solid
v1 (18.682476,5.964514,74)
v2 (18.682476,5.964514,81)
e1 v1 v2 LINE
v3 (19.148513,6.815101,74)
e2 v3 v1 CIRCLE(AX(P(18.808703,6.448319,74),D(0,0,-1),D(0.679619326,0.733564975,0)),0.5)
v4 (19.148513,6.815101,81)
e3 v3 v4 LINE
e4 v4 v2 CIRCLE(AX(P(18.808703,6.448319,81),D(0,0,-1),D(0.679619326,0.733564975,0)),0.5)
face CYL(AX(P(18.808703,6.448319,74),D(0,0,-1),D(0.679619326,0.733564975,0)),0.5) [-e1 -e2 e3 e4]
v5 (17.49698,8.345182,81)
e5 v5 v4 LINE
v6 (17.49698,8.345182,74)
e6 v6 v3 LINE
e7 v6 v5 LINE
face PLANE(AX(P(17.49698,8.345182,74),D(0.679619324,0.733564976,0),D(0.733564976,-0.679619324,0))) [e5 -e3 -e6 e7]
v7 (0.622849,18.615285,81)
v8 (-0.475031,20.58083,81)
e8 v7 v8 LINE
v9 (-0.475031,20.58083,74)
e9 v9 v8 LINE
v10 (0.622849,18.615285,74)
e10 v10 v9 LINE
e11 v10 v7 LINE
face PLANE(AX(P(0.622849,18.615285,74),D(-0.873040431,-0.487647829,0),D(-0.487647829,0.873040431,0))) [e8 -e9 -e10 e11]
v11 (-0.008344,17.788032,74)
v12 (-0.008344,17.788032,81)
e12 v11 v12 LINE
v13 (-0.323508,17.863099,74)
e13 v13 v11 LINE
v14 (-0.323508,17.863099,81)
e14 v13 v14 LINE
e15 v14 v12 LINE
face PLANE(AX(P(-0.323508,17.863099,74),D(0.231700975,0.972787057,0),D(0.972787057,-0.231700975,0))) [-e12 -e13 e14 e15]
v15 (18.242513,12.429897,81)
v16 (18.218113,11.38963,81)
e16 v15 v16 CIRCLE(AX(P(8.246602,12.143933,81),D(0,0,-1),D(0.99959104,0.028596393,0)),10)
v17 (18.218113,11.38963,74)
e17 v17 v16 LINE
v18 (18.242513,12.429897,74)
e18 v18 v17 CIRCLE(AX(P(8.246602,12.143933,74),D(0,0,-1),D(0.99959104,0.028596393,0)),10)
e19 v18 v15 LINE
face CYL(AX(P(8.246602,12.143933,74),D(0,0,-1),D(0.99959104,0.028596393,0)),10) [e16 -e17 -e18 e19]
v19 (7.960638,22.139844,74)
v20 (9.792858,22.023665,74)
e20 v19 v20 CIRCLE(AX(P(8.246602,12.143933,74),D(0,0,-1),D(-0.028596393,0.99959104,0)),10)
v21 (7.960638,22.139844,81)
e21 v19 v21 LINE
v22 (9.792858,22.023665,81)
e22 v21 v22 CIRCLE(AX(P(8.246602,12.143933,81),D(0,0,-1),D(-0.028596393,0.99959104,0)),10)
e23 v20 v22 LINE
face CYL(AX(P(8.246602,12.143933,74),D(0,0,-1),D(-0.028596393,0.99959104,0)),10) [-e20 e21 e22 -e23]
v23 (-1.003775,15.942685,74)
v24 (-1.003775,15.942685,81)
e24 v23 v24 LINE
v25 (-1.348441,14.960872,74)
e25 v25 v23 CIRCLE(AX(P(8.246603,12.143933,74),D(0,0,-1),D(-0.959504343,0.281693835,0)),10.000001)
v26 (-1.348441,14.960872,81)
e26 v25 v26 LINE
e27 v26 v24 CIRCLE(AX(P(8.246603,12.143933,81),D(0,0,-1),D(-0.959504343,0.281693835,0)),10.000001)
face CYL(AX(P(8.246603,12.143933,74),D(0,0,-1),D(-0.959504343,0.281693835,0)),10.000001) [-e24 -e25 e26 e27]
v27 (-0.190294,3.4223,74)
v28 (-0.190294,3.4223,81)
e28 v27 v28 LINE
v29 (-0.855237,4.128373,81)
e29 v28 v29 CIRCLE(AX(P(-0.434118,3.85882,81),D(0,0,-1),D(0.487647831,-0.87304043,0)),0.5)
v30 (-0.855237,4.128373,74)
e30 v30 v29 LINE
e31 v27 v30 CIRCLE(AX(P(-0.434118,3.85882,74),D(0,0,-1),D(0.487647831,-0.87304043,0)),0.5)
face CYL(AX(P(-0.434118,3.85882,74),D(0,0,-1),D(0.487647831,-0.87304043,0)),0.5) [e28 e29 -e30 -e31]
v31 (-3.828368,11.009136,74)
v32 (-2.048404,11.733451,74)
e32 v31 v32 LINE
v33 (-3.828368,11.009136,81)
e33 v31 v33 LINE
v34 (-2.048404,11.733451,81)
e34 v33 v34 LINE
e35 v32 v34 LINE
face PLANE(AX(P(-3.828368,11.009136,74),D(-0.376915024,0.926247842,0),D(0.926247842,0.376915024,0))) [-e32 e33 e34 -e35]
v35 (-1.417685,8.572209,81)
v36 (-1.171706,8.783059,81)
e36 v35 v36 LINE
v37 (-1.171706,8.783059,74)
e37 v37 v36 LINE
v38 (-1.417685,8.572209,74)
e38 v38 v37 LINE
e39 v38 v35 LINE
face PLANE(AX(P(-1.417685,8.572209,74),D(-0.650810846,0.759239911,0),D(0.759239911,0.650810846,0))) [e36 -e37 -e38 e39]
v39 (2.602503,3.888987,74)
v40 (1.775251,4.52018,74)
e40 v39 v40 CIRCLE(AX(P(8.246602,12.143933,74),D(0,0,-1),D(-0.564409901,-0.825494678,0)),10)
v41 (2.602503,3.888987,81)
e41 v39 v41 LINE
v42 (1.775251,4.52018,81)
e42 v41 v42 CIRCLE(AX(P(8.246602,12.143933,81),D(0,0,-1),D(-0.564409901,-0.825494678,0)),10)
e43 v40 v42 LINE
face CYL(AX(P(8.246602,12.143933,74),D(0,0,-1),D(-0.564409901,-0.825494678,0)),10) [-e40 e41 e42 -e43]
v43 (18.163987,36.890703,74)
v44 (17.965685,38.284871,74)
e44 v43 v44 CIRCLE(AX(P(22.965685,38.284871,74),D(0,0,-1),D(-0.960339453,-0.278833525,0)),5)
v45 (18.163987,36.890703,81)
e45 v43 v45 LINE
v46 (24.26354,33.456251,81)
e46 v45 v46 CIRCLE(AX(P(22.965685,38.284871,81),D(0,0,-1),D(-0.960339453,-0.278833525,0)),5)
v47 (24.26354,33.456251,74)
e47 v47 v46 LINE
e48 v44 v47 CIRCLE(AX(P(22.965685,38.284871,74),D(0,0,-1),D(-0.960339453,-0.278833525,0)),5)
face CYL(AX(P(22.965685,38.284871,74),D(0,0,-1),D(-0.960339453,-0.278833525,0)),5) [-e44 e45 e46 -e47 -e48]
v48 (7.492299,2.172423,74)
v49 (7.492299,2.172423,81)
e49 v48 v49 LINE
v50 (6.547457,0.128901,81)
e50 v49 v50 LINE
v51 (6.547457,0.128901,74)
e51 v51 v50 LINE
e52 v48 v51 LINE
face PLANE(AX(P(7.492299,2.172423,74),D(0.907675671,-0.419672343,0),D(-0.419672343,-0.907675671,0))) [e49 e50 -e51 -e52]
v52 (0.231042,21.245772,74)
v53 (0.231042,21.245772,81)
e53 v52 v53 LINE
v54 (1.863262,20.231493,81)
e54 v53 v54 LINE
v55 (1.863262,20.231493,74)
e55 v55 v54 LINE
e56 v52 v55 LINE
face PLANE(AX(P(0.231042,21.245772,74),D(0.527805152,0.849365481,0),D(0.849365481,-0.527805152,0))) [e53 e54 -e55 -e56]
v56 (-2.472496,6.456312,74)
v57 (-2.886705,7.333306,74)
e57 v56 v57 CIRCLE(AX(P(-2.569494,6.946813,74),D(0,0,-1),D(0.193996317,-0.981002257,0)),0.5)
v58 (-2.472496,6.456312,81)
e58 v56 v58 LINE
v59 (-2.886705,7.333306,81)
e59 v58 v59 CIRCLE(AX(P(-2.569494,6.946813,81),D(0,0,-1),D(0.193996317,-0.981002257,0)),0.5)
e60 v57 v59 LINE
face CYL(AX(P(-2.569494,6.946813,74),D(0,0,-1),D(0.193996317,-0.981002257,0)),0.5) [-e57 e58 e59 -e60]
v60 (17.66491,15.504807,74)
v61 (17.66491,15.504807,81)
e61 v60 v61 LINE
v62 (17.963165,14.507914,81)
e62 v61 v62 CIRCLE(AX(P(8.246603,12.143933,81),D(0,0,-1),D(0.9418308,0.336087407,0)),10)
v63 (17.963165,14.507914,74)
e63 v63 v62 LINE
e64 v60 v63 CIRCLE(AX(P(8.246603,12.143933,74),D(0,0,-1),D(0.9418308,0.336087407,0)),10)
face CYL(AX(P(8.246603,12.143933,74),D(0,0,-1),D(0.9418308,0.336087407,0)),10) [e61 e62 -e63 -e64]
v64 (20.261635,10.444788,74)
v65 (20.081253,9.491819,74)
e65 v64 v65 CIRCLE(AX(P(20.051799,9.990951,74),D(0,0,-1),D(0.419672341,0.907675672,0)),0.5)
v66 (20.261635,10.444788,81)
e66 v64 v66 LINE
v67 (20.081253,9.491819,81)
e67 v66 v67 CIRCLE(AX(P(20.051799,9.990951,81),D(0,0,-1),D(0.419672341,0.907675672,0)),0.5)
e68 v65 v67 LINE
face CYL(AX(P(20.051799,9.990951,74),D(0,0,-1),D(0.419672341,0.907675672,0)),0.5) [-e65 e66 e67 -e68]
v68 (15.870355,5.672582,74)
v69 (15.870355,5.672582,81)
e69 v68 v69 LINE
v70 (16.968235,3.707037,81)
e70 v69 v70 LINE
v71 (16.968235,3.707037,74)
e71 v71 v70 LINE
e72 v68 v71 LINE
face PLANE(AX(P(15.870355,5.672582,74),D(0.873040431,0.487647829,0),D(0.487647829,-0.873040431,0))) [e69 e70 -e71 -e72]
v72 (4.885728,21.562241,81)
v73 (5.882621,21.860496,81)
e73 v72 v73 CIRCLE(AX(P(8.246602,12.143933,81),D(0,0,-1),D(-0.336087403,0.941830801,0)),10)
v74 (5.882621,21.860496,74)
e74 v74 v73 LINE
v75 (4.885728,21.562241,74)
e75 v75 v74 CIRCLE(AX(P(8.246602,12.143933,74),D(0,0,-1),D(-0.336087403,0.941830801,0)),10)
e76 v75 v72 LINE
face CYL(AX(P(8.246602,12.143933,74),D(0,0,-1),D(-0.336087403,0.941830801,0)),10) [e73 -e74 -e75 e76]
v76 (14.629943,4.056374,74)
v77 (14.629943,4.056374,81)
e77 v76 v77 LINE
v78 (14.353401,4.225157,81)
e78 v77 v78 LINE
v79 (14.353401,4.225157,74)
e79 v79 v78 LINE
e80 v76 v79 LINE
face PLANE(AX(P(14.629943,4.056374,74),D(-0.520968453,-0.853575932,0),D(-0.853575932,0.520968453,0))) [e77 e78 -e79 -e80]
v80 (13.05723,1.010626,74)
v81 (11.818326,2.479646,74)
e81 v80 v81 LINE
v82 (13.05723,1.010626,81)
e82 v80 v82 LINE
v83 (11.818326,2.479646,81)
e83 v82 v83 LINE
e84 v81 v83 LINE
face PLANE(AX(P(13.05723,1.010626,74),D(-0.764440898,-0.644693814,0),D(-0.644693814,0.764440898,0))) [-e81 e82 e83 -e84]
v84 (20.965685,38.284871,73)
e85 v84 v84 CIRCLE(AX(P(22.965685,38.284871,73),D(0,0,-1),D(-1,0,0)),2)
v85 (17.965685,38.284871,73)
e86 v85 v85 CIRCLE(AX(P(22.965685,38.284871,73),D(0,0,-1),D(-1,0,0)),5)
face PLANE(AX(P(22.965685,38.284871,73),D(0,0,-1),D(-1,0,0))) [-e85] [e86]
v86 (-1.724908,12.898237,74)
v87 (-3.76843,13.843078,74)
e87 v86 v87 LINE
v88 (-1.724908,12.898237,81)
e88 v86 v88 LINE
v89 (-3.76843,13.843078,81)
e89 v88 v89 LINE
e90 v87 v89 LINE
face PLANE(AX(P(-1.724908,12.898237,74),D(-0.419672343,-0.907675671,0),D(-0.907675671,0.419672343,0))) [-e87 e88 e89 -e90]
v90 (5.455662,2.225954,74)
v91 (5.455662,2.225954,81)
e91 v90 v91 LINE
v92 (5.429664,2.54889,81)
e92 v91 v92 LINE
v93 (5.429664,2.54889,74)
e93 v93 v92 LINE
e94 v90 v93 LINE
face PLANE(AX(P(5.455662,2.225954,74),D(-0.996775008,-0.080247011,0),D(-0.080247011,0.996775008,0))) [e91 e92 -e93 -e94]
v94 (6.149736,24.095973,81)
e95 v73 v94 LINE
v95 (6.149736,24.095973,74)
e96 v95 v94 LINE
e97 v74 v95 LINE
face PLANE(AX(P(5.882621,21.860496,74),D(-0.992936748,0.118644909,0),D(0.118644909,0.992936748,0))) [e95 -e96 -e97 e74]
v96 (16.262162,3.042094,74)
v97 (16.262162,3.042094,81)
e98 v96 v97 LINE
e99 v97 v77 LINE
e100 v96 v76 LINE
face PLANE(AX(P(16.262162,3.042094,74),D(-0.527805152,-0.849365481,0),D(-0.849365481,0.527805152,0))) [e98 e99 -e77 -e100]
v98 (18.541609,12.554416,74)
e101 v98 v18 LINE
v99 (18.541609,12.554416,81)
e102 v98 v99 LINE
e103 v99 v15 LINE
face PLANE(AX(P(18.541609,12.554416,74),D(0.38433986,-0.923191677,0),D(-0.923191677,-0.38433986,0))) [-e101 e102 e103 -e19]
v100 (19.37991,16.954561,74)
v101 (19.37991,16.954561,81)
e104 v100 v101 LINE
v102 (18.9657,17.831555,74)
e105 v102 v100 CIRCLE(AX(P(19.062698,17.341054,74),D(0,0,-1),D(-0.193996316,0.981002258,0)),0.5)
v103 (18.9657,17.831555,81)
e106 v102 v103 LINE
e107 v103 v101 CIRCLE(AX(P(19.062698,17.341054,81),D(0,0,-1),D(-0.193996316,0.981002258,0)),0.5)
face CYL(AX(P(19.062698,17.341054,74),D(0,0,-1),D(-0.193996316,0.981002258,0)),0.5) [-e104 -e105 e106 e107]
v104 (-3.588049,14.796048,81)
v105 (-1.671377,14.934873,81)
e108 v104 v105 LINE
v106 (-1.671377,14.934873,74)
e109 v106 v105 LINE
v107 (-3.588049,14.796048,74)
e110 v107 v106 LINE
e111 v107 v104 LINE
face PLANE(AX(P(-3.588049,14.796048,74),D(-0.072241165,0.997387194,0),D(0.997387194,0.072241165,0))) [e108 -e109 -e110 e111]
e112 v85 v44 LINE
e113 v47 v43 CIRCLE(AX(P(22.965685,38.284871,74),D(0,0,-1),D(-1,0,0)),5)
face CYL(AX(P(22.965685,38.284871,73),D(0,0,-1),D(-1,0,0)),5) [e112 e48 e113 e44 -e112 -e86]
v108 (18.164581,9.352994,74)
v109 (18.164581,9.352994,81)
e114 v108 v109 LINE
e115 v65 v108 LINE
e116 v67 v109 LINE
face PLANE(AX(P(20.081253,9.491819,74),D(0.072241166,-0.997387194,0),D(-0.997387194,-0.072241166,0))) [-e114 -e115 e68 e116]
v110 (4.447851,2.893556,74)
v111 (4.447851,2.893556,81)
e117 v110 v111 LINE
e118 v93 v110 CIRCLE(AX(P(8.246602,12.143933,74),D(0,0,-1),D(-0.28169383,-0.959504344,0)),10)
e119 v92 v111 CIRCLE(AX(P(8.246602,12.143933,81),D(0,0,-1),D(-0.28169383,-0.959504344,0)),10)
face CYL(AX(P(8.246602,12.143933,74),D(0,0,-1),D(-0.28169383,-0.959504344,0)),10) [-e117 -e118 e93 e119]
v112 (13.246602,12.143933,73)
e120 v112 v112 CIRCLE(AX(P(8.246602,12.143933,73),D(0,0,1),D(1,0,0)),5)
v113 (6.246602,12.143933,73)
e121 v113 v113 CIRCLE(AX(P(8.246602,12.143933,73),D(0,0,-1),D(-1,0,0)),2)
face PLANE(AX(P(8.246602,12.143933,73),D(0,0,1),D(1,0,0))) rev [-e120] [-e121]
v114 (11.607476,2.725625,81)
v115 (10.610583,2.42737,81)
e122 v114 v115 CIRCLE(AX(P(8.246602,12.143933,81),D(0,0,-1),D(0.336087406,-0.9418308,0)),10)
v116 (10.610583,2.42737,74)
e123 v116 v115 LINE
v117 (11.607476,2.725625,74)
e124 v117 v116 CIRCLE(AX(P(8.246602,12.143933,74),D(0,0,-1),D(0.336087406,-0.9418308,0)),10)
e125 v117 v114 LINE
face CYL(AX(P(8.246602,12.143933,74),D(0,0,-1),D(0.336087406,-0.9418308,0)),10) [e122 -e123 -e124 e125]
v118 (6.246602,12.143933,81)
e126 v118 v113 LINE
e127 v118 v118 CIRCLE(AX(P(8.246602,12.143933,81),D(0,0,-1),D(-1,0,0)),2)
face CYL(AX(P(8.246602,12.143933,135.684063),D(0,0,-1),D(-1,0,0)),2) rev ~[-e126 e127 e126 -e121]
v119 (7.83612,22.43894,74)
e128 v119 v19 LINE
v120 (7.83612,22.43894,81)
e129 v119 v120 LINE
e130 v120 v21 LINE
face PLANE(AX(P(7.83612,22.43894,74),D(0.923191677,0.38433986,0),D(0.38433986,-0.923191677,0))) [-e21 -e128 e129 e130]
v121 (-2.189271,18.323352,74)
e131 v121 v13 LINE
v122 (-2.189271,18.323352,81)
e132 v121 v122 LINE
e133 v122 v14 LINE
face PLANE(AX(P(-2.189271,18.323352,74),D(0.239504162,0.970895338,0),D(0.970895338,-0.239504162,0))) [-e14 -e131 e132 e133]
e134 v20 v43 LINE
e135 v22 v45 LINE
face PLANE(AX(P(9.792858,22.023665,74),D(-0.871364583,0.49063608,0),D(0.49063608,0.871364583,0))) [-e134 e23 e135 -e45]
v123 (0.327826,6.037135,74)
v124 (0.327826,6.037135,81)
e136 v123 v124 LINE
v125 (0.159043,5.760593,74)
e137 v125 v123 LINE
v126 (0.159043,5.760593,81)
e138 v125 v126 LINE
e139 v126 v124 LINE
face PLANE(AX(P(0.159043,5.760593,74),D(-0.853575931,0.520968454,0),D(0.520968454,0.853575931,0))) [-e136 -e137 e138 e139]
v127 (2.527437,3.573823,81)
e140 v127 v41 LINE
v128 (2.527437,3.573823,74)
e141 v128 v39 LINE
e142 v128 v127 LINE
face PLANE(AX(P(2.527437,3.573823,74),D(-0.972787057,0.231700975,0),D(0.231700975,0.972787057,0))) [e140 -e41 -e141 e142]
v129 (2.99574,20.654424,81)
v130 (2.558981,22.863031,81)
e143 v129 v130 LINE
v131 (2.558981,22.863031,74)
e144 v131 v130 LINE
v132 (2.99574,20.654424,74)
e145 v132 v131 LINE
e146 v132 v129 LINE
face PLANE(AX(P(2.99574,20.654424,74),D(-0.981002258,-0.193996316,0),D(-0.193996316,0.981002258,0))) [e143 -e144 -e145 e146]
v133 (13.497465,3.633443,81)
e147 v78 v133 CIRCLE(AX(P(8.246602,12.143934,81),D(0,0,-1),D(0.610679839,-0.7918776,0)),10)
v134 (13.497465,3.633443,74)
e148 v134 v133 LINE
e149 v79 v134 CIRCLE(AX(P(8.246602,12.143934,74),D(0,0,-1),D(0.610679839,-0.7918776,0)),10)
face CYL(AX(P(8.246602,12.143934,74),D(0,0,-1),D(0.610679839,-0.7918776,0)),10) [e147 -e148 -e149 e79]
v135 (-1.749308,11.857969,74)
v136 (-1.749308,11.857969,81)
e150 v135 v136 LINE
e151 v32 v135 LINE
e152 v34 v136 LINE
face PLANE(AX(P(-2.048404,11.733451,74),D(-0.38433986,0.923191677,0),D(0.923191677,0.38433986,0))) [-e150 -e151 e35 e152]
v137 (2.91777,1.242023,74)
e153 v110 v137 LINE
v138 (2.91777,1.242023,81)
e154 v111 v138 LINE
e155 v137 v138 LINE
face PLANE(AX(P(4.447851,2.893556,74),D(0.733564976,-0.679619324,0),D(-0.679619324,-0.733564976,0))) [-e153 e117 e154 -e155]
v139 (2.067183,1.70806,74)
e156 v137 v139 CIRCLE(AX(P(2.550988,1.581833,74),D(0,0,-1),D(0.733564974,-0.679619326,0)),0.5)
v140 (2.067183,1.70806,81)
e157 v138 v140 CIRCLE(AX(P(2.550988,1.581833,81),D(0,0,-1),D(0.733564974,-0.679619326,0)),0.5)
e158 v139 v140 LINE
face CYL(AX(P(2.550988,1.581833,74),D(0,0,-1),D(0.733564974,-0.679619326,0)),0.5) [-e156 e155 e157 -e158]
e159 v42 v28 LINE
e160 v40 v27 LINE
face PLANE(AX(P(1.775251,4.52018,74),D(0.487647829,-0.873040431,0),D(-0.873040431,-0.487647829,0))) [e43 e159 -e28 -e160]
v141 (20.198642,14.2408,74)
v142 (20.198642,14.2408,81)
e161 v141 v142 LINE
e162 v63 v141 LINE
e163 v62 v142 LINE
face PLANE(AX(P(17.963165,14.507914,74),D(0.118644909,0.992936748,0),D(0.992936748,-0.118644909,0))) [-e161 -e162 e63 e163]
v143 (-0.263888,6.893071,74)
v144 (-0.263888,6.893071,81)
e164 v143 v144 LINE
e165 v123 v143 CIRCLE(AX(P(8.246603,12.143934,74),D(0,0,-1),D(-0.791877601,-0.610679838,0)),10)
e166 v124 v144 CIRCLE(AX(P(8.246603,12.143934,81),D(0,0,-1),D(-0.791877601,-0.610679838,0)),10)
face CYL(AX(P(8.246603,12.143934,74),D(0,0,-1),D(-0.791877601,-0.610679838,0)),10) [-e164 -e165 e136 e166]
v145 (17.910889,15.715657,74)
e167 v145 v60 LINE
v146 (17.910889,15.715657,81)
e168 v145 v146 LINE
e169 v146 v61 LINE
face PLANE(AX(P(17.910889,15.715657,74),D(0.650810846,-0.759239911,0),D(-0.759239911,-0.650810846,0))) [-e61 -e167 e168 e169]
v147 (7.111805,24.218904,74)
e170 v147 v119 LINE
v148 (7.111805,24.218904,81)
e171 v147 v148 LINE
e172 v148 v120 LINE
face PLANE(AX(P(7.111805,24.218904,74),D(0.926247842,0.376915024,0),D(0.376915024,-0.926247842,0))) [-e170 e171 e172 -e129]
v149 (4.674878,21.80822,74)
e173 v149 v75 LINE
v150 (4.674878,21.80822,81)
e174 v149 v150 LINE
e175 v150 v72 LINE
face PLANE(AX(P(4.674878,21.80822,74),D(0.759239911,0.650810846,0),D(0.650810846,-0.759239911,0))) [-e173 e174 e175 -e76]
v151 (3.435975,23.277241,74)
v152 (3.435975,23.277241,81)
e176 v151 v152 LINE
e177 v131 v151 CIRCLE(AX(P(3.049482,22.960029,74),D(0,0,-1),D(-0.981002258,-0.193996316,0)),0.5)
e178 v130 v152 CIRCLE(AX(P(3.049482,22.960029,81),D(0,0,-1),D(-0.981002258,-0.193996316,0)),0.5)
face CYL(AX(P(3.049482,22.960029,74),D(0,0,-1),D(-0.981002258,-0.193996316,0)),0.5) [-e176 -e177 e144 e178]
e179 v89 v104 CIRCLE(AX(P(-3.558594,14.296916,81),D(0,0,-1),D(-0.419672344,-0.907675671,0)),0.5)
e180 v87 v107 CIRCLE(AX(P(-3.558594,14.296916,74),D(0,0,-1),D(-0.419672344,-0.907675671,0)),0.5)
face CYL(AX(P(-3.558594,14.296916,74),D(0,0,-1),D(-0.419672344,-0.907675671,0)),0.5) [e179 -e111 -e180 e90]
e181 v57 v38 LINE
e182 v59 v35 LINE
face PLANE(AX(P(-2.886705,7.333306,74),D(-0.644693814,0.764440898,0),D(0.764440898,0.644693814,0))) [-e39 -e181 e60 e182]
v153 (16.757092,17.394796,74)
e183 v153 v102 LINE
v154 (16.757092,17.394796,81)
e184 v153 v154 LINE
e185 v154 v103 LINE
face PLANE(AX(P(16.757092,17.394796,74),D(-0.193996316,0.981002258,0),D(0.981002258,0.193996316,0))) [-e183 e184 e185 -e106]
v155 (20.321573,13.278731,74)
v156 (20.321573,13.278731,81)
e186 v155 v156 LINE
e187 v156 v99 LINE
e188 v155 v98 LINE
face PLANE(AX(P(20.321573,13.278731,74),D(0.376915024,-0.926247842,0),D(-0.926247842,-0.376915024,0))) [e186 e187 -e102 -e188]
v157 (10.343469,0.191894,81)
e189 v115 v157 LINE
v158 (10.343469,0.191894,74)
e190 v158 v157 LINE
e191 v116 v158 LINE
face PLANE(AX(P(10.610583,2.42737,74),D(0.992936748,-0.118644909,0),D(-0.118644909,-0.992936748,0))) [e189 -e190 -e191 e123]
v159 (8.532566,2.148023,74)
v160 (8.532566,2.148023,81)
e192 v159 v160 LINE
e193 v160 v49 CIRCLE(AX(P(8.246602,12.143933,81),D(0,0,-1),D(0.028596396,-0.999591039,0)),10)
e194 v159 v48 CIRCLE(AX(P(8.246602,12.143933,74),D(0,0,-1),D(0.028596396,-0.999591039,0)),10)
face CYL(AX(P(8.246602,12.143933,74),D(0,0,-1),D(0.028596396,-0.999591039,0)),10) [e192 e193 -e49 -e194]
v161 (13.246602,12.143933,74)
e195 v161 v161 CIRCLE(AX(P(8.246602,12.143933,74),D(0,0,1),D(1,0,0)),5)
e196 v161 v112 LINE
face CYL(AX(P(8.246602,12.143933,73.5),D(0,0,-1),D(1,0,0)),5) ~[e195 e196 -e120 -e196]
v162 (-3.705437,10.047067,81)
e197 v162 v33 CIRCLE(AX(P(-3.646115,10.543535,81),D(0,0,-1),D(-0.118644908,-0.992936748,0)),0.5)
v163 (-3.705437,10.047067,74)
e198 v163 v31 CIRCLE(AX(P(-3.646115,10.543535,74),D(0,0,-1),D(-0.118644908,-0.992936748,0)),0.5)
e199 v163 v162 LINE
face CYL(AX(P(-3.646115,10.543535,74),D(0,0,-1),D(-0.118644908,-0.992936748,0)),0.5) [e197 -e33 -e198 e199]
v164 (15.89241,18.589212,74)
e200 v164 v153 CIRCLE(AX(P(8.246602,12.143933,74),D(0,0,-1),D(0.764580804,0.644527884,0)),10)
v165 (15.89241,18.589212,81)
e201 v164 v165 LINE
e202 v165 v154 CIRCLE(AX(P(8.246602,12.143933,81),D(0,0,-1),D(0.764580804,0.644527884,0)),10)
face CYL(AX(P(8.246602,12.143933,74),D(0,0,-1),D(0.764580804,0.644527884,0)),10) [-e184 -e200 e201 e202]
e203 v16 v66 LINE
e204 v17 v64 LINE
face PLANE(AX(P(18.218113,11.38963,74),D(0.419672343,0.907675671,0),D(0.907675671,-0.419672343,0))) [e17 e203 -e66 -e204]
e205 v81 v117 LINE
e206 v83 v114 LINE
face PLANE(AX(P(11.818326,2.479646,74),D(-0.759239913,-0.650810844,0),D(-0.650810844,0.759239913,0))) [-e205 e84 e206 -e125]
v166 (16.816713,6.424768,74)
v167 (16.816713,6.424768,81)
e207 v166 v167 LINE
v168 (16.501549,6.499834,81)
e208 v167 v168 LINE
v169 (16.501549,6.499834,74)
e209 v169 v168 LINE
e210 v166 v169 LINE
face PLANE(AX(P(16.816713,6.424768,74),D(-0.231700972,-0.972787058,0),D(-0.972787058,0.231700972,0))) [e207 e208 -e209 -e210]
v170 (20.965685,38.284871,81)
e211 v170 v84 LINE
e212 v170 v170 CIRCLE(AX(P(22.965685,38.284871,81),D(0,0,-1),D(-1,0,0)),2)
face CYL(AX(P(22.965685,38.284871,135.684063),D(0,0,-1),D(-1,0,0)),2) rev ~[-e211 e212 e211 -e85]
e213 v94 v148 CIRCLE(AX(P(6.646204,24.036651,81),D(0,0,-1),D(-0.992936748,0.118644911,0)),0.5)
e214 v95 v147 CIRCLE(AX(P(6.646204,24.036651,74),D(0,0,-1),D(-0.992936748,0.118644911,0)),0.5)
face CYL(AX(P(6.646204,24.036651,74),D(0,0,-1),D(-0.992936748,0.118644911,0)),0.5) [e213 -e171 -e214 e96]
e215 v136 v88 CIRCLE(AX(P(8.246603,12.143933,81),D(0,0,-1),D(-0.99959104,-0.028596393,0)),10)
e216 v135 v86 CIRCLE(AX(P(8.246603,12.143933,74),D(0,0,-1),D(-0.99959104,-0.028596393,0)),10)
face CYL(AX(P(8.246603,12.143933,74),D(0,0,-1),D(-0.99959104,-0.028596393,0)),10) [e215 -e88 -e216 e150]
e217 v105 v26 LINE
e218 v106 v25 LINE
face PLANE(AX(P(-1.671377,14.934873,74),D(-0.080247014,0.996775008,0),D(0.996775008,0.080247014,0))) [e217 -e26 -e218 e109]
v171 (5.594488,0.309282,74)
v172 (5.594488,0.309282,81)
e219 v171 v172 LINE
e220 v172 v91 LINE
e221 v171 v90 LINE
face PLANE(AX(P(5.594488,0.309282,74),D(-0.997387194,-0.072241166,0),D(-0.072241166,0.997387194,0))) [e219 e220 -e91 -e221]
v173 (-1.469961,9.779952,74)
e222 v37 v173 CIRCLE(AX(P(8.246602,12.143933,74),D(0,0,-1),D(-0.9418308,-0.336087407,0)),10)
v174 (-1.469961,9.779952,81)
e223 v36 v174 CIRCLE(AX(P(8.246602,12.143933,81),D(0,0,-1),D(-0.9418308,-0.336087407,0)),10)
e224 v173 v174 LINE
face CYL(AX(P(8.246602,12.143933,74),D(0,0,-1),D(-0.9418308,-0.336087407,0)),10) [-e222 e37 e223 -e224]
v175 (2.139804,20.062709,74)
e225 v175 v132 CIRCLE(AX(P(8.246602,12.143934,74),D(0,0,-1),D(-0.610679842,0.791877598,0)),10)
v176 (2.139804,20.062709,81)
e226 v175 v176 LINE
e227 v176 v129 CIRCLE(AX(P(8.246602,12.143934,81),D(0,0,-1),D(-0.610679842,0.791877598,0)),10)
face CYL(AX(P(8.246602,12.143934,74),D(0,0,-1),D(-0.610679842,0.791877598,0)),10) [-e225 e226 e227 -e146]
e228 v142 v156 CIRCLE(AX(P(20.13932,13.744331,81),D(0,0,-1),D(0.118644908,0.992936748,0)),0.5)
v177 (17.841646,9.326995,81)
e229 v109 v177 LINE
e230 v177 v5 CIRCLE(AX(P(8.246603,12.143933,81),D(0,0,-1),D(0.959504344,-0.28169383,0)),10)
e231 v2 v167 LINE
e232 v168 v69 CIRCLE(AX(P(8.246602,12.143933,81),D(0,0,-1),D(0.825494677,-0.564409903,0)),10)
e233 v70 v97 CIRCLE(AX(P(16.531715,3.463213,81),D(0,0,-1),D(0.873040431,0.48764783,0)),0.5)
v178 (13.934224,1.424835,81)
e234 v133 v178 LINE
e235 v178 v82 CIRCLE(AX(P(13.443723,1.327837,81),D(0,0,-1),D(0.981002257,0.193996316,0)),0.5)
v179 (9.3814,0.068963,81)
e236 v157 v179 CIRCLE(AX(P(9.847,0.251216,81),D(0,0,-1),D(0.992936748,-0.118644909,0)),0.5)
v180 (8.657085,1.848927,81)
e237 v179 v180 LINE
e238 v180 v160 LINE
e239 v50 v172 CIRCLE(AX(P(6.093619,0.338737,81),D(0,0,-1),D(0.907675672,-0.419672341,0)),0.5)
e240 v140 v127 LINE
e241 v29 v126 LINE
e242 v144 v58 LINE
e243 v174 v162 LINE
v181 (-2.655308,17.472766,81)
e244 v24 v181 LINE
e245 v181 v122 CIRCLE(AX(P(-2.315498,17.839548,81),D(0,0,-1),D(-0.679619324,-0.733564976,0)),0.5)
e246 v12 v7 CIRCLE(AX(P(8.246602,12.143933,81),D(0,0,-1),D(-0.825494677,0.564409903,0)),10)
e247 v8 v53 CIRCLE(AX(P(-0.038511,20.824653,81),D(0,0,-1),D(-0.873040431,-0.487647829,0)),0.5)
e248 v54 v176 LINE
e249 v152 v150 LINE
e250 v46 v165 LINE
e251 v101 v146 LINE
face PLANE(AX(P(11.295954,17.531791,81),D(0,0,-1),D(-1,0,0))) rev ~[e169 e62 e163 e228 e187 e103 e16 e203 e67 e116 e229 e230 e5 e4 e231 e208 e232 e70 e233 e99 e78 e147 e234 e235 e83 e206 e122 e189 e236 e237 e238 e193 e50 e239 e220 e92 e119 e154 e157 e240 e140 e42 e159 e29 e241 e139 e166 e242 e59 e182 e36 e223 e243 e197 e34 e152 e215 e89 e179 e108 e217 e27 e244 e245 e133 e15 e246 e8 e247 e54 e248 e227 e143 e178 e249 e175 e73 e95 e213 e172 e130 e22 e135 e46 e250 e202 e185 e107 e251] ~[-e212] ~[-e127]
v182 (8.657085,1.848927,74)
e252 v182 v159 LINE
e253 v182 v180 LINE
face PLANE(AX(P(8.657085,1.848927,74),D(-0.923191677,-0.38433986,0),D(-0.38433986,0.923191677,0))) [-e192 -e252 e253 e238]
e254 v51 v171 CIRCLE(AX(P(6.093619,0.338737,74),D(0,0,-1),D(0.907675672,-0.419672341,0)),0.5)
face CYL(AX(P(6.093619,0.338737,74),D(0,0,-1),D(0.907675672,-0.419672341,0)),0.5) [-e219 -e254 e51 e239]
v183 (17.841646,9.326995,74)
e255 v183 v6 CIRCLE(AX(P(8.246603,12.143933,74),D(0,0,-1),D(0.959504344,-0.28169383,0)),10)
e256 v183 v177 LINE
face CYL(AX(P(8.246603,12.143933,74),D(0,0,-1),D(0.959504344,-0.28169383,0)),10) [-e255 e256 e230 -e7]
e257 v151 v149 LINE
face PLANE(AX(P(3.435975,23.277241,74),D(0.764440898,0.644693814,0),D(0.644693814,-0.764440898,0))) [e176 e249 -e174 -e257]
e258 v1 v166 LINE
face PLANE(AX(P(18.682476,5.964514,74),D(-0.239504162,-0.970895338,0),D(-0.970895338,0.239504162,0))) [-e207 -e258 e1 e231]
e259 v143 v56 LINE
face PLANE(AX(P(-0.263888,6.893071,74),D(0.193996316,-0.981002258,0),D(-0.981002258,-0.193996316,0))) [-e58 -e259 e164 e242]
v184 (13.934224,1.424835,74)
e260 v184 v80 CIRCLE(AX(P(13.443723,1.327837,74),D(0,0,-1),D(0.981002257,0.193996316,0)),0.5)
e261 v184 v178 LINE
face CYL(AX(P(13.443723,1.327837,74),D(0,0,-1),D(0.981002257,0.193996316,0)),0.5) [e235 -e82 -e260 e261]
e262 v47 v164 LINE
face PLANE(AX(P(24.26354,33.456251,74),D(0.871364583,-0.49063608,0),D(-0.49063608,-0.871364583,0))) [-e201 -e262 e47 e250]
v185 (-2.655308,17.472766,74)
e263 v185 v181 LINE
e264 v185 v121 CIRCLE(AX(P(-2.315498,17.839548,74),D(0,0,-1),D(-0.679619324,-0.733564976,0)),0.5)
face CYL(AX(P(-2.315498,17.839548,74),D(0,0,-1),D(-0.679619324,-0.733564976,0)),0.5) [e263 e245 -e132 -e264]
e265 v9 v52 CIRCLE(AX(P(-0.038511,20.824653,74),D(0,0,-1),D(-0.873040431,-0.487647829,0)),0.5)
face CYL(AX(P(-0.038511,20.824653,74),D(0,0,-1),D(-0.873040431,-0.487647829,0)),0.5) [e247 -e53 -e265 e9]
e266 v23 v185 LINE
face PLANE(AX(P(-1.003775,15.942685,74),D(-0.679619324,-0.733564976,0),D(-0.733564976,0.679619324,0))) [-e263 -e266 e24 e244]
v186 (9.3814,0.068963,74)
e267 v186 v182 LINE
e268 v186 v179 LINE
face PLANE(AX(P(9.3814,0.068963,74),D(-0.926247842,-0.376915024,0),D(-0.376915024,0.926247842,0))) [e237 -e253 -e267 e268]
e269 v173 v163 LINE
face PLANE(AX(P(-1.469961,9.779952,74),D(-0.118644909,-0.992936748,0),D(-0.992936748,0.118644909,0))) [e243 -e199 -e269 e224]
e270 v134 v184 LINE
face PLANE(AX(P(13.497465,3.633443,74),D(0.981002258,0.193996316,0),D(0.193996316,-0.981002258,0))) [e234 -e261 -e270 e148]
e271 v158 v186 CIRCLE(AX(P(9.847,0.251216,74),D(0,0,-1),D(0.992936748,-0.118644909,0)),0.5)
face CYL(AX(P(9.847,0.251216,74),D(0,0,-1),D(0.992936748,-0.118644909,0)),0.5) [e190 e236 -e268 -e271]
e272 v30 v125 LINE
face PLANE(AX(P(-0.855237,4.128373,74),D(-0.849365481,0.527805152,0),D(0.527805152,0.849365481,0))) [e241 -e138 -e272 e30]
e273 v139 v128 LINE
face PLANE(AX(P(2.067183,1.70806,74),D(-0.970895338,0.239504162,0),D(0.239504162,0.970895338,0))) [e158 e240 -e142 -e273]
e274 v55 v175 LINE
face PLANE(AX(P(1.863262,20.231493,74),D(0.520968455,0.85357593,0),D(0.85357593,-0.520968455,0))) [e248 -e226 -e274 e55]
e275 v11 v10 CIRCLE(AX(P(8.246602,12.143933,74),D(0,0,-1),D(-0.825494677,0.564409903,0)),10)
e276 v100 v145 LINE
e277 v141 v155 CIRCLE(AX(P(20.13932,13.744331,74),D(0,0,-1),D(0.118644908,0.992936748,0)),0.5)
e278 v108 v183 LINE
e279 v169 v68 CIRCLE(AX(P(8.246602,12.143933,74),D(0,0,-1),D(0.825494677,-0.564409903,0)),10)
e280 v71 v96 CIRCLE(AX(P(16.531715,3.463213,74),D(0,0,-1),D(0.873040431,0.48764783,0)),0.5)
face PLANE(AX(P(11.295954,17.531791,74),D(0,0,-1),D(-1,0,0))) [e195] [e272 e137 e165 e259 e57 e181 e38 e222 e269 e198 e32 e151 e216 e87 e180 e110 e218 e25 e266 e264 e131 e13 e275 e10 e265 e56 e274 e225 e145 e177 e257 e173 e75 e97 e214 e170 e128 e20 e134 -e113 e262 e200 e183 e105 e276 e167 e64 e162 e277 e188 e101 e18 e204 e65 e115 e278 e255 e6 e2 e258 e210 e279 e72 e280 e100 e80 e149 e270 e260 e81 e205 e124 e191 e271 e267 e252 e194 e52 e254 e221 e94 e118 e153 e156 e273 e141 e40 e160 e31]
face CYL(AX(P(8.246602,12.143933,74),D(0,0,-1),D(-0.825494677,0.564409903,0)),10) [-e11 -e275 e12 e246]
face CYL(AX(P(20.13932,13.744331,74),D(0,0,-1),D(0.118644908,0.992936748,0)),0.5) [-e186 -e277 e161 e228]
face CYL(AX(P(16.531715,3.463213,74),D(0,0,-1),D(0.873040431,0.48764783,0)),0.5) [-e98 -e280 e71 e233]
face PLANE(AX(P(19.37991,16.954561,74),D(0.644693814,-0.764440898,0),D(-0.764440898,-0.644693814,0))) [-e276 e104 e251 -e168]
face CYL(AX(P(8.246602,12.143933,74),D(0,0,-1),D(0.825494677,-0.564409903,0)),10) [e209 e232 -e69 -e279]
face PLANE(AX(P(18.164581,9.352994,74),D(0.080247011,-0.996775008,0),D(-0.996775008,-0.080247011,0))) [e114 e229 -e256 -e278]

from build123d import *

# Parameters (mm, degrees)
BOSS_EXTRUDE1_DEPTH      = 7
BOSS_EXTRUDE2_START      = 1
SKETCH2_R                = 5
BOSS_EXTRUDE2_DEPTH      = 1
SKETCH3_W                = 5
SKETCH3_H                = 1
F_4_0_4_DIAMETER_HOLE1_D = 4


with BuildPart() as part:
    # Sketch1 → Boss-Extrude1 (new body)
    with BuildSketch(Plane(origin=(0, 0, 74), x_dir=(-1, 0, 0), z_dir=(0, 0, -1))):
        with BuildLine():
            Line((-9.792858273, 22.023664764), (-18.163987442, 36.890703242))
            ThreePointArc((-18.163987442, 36.890703242), (-25.418865109, 42.641693781), (-24.263539525, 33.456250682))
            Line((-24.263539525, 33.456250682), (-15.892410356, 18.589212204))
            ThreePointArc((-15.892410356, 18.589212204), (-16.346796769, 18.007963525), (-16.757092444, 17.394795929))
            Line((-16.757092444, 17.394795929), (-18.965700238, 17.831555144))
            ThreePointArc((-18.965700238, 17.831555144), (-19.514808102, 17.55458812), (-19.379909826, 16.954560925))
            Line((-19.379909826, 16.954560925), (-17.910889228, 15.715657441))
            Line((-17.910889228, 15.715657441), (-17.664910308, 15.504807423))
            ThreePointArc((-17.664910308, 15.504807423), (-17.827013037, 15.010242888), (-17.963165175, 14.507914341))
            Line((-17.963165175, 14.507914341), (-20.19864203, 14.240799695))
            ThreePointArc((-20.19864203, 14.240799695), (-20.635287125, 13.80770474), (-20.32157264, 13.278730827))
            Line((-20.32157264, 13.278730827), (-18.541608797, 12.554415925))
            Line((-18.541608797, 12.554415925), (-18.242512703, 12.429897308))
            ThreePointArc((-18.242512703, 12.429897308), (-18.243852713, 11.909445986), (-18.218113034, 11.389629824))
            Line((-18.218113034, 11.389629824), (-20.261634899, 10.444788361))
            ThreePointArc((-20.261634899, 10.444788361), (-20.543075361, 9.897959827), (-20.081253227, 9.491818847))
            Line((-20.081253227, 9.491818847), (-18.164581401, 9.352993516))
            Line((-18.164581401, 9.352993516), (-17.841645743, 9.32699505))
            ThreePointArc((-17.841645743, 9.32699505), (-17.682091866, 8.831602343), (-17.496979948, 8.345181793))
            Line((-17.496979948, 8.345181793), (-19.148512665, 6.815101178))
            ThreePointArc((-19.148512665, 6.815101178), (-19.247199139, 6.208066452), (-18.682475725, 5.964514314))
            Line((-18.682475725, 5.964514314), (-16.816713109, 6.424767746))
            Line((-16.816713109, 6.424767746), (-16.501549079, 6.499834341))
            ThreePointArc((-16.501549079, 6.499834341), (-16.196719559, 6.077992739), (-15.870355447, 5.672582033))
            Line((-15.870355447, 5.672582033), (-16.968235486, 3.707037218))
            ThreePointArc((-16.968235486, 3.707037218), (-16.874507855, 3.099217089), (-16.262162222, 3.042094373))
            Line((-16.262162222, 3.042094373), (-14.62994266, 4.056373754))
            Line((-14.62994266, 4.056373754), (-14.353400709, 4.22515737))
            ThreePointArc((-14.353400709, 4.22515737), (-13.933134384, 3.918159668), (-13.497464871, 3.633443231))
            Line((-13.497464871, 3.633443231), (-13.934224085, 1.424835437))
            ThreePointArc((-13.934224085, 1.424835437), (-13.657257061, 0.875727573), (-13.057229867, 1.010625848))
            Line((-13.057229867, 1.010625848), (-11.818326382, 2.479646446))
            Line((-11.818326382, 2.479646446), (-11.607476364, 2.725625367))
            ThreePointArc((-11.607476364, 2.725625367), (-11.112911829, 2.563522638), (-10.610583282, 2.427370499))
            Line((-10.610583282, 2.427370499), (-10.343468637, 0.191893645))
            ThreePointArc((-10.343468637, 0.191893645), (-9.910373682, -0.24475145), (-9.381399768, 0.068963034))
            Line((-9.381399768, 0.068963034), (-8.657084866, 1.848926878))
            Line((-8.657084866, 1.848926878), (-8.532566249, 2.148022972))
            ThreePointArc((-8.532566249, 2.148022972), (-8.012114927, 2.146682961), (-7.492298765, 2.17242264))
            Line((-7.492298765, 2.17242264), (-6.547457302, 0.128900776))
            ThreePointArc((-6.547457302, 0.128900776), (-6.000628768, -0.152539686), (-5.594487788, 0.309282448))
            Line((-5.594487788, 0.309282448), (-5.455662457, 2.225954274))
            Line((-5.455662457, 2.225954274), (-5.429663991, 2.548889932))
            ThreePointArc((-5.429663991, 2.548889932), (-4.934271284, 2.708443809), (-4.447850734, 2.893555727))
            Line((-4.447850734, 2.893555727), (-2.917770119, 1.24202301))
            ThreePointArc((-2.917770119, 1.24202301), (-2.310735394, 1.143336536), (-2.067183255, 1.70805995))
            Line((-2.067183255, 1.70805995), (-2.527436687, 3.573822566))
            Line((-2.527436687, 3.573822566), (-2.602503283, 3.888986596))
            ThreePointArc((-2.602503283, 3.888986596), (-2.18066168, 4.193816116), (-1.775250975, 4.520180228))
            Line((-1.775250975, 4.520180228), (0.19029384, 3.422300189))
            ThreePointArc((0.19029384, 3.422300189), (0.79811397, 3.51602782), (0.855236686, 4.128373453))
            Line((0.855236686, 4.128373453), (-0.159042695, 5.760593015))
            Line((-0.159042695, 5.760593015), (-0.327826311, 6.037134965))
            ThreePointArc((-0.327826311, 6.037134965), (-0.020828609, 6.457401291), (0.263887828, 6.893070804))
            Line((0.263887828, 6.893070804), (2.472495622, 6.45631159))
            ThreePointArc((2.472495622, 6.45631159), (3.021603486, 6.733278614), (2.88670521, 7.333305808))
            Line((2.88670521, 7.333305808), (1.417684612, 8.572209293))
            Line((1.417684612, 8.572209293), (1.171705692, 8.783059311))
            ThreePointArc((1.171705692, 8.783059311), (1.333808421, 9.277623846), (1.469960559, 9.779952393))
            Line((1.469960559, 9.779952393), (3.705437414, 10.047067038))
            ThreePointArc((3.705437414, 10.047067038), (4.142082509, 10.480161993), (3.828368024, 11.009135907))
            Line((3.828368024, 11.009135907), (2.048404181, 11.733450809))
            Line((2.048404181, 11.733450809), (1.749308087, 11.857969426))
            ThreePointArc((1.749308087, 11.857969426), (1.750648097, 12.378420747), (1.724908418, 12.89823691))
            Line((1.724908418, 12.89823691), (3.768430283, 13.843078373))
            ThreePointArc((3.768430283, 13.843078373), (4.049870744, 14.389906907), (3.588048611, 14.796047887))
            Line((3.588048611, 14.796047887), (1.671376785, 14.934873217))
            Line((1.671376785, 14.934873217), (1.348441127, 14.960871684))
            ThreePointArc((1.348441127, 14.960871684), (1.188887249, 15.45626439), (1.003775332, 15.942684941))
            Line((1.003775332, 15.942684941), (2.655308048, 17.472765555))
            ThreePointArc((2.655308048, 17.472765555), (2.753994523, 18.079800281), (2.189271109, 18.32335242))
            Line((2.189271109, 18.32335242), (0.323508493, 17.863098988))
            Line((0.323508493, 17.863098988), (0.008344463, 17.788032392))
            ThreePointArc((0.008344463, 17.788032392), (-0.296485057, 18.209873994), (-0.622849169, 18.6152847))
            Line((-0.622849169, 18.6152847), (0.47503087, 20.580829515))
            ThreePointArc((0.47503087, 20.580829515), (0.381303238, 21.188649645), (-0.231042394, 21.245772361))
            Line((-0.231042394, 21.245772361), (-1.863261956, 20.23149298))
            Line((-1.863261956, 20.23149298), (-2.139803907, 20.062709363))
            ThreePointArc((-2.139803907, 20.062709363), (-2.560070232, 20.369707066), (-2.995739745, 20.654423502))
            Line((-2.995739745, 20.654423502), (-2.558980531, 22.863031297))
            ThreePointArc((-2.558980531, 22.863031297), (-2.835947555, 23.412139161), (-3.43597475, 23.277240885))
            Line((-3.43597475, 23.277240885), (-4.674878234, 21.808220287))
            Line((-4.674878234, 21.808220287), (-4.885728252, 21.562241367))
            ThreePointArc((-4.885728252, 21.562241367), (-5.380292787, 21.724344095), (-5.882621334, 21.860496234))
            Line((-5.882621334, 21.860496234), (-6.149735979, 24.095973089))
            ThreePointArc((-6.149735979, 24.095973089), (-6.582830934, 24.532618183), (-7.111804848, 24.218903699))
            Line((-7.111804848, 24.218903699), (-7.83611975, 22.438939856))
            Line((-7.83611975, 22.438939856), (-7.960638367, 22.139843762))
            ThreePointArc((-7.960638367, 22.139843762), (-8.879420123, 22.123890361), (-9.792858273, 22.023664764))
        make_face()
    extrude(amount=-BOSS_EXTRUDE1_DEPTH)

    # Sketch2 → Boss-Extrude2 (add)
    with BuildSketch(Plane(origin=(0, 0, 74), x_dir=(-1, 0, 0), z_dir=(0, 0, -1)).offset(BOSS_EXTRUDE2_START)):
        with Locations((-22.965684708, 38.284870865)):
            Circle(SKETCH2_R)
    extrude(amount=-BOSS_EXTRUDE2_DEPTH)

    # Sketch3 → Revolve1 (revolve)
    with BuildSketch(Plane(origin=(0, 12.143933367, 0), x_dir=(1, 0, 0), z_dir=(0, 1, 0))):
        with Locations((10.746602308, -73.5)):
            Rectangle(SKETCH3_W, SKETCH3_H)
    revolve(axis=Axis((8.246602308, 12.143933367, 73), (0, 0, 1)))

    # Ø4.0 (4) Diameter Hole1 (through all)
    with Locations(Plane.XY.offset(81)):
        with Locations((22.965684708, 38.284870865), (8.246602308, 12.143933367)):
            Hole(F_4_0_4_DIAMETER_HOLE1_D / 2)


solid = part.part
